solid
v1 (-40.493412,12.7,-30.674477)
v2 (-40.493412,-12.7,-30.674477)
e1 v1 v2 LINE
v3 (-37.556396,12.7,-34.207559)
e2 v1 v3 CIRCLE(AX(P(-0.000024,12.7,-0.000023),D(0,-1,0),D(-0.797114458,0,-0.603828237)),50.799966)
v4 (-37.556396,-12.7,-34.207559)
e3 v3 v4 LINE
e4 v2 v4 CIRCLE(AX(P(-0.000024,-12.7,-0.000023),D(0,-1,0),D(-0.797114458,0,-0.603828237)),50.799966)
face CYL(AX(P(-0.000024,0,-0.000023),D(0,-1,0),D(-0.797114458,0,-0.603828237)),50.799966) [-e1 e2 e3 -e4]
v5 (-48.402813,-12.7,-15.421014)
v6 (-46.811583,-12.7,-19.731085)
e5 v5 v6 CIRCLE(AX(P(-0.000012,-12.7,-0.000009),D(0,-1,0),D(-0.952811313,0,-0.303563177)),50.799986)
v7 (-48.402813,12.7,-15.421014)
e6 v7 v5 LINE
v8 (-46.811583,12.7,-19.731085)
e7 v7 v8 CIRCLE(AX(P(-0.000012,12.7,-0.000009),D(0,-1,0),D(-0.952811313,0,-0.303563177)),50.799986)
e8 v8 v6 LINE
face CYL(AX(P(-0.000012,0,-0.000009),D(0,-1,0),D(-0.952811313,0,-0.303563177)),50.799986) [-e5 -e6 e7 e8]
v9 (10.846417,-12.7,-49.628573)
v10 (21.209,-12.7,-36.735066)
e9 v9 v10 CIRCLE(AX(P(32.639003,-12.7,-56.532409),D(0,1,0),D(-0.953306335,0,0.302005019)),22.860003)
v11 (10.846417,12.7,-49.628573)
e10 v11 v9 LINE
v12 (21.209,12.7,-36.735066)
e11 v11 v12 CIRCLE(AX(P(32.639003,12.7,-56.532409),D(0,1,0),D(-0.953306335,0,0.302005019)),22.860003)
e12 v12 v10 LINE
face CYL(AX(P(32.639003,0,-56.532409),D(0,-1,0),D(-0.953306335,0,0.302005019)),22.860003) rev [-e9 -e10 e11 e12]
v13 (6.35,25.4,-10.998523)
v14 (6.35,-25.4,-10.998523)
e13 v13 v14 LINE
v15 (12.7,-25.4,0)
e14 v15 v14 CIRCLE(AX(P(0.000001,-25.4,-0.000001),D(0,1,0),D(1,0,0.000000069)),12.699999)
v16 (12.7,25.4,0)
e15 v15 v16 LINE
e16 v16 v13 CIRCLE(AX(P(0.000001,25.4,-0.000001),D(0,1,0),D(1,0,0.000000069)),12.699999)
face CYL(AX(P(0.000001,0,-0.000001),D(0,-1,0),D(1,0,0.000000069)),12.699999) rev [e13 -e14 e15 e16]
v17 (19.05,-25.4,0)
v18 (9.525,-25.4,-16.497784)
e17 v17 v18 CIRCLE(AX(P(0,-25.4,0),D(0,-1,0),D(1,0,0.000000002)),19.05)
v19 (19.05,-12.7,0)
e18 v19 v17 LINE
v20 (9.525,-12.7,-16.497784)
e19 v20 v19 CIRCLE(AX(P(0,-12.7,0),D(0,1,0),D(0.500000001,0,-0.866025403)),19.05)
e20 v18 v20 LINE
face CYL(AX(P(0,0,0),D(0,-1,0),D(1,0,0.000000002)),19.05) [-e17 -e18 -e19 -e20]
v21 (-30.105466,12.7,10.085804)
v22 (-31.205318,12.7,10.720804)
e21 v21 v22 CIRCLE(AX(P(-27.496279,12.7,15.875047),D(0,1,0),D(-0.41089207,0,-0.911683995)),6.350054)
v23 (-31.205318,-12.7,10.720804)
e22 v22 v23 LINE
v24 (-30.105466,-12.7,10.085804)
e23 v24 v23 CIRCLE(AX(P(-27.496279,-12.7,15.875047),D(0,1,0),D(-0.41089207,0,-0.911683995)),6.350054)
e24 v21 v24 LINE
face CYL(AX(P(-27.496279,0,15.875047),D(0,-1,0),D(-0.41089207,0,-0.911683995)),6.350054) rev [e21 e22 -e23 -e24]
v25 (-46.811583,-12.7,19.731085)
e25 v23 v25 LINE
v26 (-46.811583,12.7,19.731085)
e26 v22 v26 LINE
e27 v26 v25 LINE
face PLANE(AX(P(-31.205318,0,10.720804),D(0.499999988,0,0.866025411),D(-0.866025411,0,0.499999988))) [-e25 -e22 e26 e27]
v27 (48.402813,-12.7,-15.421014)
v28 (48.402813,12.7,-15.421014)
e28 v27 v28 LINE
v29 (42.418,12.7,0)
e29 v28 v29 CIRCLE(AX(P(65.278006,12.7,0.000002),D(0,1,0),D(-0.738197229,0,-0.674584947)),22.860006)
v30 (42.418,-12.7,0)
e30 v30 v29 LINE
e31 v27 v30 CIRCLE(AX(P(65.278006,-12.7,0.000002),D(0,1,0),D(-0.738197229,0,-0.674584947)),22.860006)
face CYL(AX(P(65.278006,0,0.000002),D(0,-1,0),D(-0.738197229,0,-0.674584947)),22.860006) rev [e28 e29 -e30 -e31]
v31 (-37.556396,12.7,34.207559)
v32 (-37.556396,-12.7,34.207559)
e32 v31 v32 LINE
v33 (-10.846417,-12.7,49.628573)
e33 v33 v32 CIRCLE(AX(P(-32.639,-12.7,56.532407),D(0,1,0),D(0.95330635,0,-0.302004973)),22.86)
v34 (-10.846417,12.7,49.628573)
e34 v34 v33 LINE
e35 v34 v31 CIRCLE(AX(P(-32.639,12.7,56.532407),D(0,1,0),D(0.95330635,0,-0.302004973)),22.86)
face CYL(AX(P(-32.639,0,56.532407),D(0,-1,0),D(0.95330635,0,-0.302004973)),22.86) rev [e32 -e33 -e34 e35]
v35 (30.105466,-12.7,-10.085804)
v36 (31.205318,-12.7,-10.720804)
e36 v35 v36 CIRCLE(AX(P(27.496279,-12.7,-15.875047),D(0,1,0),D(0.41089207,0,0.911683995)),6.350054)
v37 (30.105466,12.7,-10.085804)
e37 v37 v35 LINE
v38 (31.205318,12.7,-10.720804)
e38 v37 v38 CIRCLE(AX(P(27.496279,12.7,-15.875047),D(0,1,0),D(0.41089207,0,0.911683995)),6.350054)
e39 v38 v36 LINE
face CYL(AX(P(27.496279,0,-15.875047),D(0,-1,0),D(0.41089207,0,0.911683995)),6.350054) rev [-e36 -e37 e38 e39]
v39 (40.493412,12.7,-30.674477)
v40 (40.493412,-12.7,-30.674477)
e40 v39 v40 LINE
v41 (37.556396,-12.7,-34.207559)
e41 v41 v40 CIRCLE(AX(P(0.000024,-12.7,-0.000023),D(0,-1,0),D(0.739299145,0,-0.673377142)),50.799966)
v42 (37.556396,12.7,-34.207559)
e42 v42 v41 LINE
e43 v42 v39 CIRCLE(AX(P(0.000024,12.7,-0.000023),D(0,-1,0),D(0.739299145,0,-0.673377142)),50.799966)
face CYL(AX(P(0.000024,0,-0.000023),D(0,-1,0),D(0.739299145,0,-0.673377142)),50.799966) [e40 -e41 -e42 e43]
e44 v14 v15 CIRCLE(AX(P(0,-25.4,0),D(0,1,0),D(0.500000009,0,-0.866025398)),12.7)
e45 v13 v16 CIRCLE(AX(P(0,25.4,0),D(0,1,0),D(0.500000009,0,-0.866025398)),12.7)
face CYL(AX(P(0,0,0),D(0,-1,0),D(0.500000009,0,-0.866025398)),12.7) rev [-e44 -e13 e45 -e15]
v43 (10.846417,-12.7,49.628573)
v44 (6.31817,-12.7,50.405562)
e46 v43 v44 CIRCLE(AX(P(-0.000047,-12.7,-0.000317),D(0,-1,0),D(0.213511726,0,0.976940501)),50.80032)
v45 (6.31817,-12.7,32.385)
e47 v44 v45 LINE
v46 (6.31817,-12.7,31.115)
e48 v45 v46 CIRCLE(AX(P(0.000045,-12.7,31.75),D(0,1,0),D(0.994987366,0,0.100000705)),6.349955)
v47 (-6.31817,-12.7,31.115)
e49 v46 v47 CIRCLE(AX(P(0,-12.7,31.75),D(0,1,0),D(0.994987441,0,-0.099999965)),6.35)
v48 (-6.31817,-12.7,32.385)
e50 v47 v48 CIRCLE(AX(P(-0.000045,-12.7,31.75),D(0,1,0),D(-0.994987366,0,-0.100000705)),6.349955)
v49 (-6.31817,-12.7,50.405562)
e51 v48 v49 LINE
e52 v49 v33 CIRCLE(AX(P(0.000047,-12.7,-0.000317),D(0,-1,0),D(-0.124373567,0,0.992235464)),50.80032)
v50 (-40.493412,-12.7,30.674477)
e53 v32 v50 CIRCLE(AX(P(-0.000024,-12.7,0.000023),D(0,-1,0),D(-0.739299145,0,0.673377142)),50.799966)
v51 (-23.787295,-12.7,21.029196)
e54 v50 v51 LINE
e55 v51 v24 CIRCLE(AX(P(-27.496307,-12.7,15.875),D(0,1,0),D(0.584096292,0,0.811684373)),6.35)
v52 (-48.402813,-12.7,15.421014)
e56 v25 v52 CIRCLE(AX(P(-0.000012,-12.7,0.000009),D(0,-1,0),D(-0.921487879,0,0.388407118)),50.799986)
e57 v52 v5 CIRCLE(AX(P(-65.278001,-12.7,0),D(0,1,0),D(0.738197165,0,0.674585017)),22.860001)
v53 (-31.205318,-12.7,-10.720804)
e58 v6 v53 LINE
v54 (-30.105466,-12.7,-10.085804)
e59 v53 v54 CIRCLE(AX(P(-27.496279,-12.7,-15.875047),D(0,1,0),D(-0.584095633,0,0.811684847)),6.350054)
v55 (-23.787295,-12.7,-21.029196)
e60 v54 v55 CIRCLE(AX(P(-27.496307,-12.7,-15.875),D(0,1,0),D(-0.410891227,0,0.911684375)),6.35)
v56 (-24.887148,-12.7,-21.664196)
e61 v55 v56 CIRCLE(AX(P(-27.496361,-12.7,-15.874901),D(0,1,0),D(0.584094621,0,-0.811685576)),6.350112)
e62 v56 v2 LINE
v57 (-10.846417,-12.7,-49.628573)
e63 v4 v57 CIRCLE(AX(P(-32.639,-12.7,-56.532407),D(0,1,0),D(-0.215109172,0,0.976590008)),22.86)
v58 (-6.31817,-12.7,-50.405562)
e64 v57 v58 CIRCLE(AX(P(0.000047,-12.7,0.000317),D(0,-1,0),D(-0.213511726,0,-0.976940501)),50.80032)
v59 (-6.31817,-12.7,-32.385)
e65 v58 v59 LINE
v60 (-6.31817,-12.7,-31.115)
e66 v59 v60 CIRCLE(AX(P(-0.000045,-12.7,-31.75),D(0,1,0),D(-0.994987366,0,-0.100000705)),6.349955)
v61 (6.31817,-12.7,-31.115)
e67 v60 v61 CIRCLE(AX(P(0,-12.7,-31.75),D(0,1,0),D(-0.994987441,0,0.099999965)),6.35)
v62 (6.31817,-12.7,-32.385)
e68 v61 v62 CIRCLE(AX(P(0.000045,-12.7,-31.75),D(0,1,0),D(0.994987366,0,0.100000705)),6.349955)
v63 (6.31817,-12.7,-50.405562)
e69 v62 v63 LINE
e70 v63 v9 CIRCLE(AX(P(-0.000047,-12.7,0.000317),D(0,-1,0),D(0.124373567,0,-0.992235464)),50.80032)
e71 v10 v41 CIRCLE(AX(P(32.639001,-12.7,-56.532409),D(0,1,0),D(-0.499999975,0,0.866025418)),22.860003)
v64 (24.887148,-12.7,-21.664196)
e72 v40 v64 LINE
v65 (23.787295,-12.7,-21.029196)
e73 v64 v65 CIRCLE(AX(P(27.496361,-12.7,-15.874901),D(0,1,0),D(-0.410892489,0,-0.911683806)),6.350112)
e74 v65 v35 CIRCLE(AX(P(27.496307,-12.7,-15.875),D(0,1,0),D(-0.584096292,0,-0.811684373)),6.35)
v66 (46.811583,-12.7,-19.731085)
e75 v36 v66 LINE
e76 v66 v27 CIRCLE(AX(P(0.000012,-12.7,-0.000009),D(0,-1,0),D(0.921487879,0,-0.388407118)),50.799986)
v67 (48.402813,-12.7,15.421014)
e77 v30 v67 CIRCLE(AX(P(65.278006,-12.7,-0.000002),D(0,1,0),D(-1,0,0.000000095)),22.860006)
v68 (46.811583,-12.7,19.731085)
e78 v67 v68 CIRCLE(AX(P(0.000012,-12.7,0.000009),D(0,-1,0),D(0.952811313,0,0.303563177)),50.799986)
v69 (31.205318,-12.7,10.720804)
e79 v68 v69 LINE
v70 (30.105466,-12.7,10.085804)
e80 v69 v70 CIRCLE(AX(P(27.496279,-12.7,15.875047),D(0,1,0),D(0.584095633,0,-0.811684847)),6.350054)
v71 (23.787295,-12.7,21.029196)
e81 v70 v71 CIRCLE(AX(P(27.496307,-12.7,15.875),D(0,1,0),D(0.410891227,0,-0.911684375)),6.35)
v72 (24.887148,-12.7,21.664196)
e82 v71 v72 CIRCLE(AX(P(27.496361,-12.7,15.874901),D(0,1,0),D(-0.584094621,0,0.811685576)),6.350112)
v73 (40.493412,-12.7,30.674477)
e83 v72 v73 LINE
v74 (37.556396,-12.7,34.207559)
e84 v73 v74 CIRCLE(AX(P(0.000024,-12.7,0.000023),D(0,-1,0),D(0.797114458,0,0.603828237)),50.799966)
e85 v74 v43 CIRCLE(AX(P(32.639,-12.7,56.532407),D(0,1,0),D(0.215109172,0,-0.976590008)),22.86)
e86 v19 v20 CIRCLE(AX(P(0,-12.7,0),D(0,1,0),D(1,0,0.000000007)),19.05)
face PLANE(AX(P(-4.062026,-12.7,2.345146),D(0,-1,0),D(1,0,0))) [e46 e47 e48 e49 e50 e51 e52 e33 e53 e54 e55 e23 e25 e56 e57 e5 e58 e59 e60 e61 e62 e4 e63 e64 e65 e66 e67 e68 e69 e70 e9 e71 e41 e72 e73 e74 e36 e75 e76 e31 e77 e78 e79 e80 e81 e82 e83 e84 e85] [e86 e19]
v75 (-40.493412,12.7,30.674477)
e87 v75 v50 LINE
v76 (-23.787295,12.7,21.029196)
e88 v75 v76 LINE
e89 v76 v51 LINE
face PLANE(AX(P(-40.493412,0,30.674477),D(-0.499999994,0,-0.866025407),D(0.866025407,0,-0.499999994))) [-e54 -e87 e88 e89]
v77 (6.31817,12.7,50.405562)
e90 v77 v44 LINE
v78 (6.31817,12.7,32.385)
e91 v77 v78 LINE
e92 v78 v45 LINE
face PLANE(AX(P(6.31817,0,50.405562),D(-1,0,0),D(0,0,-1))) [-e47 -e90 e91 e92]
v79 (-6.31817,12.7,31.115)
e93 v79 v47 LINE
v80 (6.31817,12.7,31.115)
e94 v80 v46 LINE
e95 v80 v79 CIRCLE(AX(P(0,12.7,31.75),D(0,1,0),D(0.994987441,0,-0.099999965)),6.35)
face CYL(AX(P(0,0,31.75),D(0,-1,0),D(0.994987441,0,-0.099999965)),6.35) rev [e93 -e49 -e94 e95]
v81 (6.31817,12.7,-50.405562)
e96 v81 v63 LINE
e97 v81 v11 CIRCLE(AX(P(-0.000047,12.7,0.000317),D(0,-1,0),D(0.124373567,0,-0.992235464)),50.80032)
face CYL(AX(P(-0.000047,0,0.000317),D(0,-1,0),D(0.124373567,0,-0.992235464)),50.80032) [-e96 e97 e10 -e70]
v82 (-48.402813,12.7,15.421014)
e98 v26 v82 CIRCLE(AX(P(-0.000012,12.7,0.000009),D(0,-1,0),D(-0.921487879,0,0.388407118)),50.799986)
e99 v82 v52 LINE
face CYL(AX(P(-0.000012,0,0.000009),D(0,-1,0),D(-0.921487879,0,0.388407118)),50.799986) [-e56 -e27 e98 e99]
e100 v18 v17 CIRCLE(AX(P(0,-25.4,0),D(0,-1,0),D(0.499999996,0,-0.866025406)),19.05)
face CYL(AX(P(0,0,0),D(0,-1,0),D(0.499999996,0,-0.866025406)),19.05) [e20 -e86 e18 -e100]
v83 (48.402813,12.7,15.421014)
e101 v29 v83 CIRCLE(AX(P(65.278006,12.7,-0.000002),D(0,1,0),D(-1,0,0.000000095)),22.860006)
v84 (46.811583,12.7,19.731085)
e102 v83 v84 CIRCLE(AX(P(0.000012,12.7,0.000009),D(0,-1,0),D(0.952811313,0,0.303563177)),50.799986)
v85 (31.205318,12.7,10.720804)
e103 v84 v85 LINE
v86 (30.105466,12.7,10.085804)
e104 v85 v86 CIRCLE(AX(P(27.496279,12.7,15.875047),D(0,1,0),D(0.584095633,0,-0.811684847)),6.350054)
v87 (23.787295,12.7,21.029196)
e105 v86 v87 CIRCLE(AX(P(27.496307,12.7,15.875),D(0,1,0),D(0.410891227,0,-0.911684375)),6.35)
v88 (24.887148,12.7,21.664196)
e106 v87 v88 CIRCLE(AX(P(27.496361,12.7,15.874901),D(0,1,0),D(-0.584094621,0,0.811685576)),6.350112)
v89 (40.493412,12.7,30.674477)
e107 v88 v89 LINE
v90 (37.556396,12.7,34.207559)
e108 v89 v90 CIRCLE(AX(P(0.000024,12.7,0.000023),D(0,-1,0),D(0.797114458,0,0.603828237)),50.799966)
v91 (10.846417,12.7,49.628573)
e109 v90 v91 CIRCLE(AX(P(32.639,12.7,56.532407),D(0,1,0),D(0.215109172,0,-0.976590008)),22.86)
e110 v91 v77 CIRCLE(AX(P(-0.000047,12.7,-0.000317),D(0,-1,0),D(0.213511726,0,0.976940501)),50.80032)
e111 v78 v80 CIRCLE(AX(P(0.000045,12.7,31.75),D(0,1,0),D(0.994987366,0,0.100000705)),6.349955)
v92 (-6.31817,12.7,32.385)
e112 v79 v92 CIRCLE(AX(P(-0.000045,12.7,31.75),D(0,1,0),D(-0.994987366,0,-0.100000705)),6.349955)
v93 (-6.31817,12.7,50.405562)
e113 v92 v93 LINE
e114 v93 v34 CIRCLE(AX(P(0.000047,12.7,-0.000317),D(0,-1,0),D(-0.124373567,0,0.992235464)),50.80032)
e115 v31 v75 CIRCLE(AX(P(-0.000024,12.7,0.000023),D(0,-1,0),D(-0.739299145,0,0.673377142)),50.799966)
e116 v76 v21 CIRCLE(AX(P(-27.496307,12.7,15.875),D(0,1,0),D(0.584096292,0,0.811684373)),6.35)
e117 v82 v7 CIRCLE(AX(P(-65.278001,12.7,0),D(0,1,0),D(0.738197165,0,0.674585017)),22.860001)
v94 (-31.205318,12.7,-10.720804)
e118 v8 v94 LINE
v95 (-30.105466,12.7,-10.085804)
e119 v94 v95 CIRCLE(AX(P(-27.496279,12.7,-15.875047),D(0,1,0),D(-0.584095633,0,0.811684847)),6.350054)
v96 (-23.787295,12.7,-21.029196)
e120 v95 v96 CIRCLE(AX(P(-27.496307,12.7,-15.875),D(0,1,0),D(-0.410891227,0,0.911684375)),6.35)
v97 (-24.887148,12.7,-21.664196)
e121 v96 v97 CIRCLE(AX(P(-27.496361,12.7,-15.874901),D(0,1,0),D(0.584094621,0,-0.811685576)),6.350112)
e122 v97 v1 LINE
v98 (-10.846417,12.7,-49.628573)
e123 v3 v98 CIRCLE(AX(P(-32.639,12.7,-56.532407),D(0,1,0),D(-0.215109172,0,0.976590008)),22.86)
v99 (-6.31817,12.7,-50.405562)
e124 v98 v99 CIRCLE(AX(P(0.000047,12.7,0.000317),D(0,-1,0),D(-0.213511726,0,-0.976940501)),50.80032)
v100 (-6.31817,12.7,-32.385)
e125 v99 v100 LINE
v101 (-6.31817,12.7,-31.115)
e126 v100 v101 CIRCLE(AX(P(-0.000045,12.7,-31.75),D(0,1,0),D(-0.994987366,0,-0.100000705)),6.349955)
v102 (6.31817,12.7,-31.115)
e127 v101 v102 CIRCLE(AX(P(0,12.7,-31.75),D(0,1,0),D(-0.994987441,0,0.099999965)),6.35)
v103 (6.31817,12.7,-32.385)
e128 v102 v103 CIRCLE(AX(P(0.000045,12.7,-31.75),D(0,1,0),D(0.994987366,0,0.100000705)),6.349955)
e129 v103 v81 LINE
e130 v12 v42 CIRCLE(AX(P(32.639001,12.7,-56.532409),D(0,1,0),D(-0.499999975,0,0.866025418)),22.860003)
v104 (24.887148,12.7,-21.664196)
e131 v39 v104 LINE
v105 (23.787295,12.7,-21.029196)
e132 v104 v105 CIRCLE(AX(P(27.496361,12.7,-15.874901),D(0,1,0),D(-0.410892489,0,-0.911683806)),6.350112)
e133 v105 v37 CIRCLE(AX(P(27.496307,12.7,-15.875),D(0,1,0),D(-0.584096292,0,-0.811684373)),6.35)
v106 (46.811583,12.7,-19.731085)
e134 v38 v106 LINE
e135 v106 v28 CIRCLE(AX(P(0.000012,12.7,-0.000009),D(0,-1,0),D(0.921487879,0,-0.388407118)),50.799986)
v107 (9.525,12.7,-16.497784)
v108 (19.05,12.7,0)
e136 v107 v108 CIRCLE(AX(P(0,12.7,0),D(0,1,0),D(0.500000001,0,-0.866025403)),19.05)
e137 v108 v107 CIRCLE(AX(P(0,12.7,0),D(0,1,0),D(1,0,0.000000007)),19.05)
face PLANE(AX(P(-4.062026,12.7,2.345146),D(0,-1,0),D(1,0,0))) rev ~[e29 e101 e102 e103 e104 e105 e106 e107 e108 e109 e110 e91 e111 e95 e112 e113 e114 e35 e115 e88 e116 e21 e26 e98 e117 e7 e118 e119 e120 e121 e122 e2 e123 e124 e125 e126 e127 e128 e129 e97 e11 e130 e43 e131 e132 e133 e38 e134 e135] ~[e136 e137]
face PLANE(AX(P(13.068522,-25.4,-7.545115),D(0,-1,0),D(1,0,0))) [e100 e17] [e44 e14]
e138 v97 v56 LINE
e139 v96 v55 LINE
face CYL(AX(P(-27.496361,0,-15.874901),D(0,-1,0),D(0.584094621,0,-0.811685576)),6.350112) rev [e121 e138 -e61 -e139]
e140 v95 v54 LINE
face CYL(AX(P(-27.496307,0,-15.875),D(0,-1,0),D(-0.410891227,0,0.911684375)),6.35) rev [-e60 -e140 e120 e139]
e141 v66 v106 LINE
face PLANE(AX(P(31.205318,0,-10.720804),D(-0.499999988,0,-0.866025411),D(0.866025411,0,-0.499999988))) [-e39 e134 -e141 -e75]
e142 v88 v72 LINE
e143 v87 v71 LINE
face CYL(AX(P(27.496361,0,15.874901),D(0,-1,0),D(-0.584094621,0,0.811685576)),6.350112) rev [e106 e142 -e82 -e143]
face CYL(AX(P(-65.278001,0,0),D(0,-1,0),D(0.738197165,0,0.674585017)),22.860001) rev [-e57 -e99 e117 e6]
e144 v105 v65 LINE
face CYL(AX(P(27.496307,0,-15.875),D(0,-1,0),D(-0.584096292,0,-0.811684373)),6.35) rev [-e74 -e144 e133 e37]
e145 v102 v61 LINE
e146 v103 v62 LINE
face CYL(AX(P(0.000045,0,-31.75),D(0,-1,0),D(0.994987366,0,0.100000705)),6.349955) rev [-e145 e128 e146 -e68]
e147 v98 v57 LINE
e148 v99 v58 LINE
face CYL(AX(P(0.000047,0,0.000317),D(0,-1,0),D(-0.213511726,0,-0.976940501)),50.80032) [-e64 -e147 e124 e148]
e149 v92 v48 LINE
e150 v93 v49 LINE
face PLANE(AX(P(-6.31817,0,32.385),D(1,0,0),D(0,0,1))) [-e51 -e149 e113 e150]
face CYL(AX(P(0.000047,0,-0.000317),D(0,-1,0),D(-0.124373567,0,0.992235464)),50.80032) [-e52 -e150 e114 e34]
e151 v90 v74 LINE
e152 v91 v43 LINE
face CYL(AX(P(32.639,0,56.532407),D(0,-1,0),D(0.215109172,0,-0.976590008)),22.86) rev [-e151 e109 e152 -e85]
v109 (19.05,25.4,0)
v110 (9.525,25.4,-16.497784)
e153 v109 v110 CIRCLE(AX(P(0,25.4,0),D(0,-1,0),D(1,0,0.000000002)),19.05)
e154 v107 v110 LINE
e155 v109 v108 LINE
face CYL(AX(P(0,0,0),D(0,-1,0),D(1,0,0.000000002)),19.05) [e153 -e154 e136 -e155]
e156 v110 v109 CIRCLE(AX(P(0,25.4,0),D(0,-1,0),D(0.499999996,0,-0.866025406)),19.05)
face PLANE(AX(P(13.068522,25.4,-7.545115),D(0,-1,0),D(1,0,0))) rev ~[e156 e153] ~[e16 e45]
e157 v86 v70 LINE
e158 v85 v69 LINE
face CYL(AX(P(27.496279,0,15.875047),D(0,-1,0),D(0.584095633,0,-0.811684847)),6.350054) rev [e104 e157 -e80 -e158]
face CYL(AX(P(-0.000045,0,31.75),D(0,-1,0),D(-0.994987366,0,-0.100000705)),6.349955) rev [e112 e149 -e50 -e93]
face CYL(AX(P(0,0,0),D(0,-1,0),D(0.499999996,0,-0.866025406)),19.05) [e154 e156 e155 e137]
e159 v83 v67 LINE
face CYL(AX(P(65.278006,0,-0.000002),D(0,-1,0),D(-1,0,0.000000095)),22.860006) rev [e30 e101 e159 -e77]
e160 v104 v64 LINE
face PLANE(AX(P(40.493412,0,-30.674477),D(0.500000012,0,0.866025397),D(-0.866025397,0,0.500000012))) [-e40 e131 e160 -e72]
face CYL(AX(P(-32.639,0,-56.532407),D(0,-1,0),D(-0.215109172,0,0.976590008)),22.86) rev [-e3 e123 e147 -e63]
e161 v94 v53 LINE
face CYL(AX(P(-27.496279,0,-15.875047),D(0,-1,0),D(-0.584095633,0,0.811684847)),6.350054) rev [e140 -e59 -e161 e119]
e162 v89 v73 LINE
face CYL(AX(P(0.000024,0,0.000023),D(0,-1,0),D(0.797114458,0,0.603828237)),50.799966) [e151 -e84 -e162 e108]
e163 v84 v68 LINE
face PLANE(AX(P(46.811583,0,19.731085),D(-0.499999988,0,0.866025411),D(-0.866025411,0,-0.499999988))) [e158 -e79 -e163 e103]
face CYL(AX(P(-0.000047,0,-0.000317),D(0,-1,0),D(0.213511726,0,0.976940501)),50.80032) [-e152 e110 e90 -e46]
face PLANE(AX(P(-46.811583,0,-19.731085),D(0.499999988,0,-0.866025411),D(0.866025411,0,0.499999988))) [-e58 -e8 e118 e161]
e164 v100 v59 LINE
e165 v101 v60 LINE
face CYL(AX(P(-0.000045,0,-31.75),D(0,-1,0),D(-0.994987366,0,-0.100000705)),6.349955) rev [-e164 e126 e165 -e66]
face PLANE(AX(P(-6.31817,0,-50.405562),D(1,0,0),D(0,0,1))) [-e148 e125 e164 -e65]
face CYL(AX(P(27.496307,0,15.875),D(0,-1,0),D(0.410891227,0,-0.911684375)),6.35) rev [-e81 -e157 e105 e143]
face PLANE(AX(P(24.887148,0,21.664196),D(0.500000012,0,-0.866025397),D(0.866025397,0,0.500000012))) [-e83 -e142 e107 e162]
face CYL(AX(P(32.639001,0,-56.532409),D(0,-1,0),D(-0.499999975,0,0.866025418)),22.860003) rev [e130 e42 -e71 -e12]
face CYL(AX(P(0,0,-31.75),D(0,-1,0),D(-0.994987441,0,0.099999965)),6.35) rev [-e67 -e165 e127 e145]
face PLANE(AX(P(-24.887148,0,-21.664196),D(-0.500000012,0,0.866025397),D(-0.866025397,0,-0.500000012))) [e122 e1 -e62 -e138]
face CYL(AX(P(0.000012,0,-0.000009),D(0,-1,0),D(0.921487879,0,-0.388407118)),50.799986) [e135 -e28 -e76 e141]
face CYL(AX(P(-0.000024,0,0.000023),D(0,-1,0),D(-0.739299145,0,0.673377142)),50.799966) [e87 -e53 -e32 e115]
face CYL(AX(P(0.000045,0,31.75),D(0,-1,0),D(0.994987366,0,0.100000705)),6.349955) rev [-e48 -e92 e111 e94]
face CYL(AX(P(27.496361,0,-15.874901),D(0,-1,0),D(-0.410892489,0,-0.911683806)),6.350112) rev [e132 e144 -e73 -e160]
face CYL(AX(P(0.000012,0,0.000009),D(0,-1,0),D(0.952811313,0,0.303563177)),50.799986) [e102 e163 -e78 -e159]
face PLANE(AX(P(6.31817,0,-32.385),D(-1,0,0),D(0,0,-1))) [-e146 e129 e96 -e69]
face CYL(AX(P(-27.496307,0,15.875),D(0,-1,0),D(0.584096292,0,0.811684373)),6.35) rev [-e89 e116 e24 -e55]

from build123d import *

# Parameters (mm, degrees)
F1_DEPTH = 12.7
F2_DEPTH = 25.4


with BuildPart() as f1:
    # F0 (on Front) → F1 (new body, symmetric)
    with BuildSketch(Plane.XZ):
        with BuildLine():
            ThreePointArc((42.418, 0), (43.966661, 8.270817), (48.402813, 15.421014))
            ThreePointArc((48.402813, 15.421014), (47.655949, 17.594048), (46.811583, 19.731085))
            Line((46.811583, 19.731085), (31.205318, 10.720804))
            ThreePointArc((31.205318, 10.720804), (30.671307, 10.375739), (30.105466, 10.085804))
            ThreePointArc((30.105466, 10.085804), (21.997045, 12.7), (23.787295, 21.029196))
            ThreePointArc((23.787295, 21.029196), (24.321307, 21.374261), (24.887148, 21.664196))
            Line((24.887148, 21.664196), (40.493412, 30.674477))
            ThreePointArc((40.493412, 30.674477), (39.064867, 32.474238), (37.556396, 34.207559))
            ThreePointArc((37.556396, 34.207559), (21.209, 36.735066), (10.846417, 49.628573))
            ThreePointArc((10.846417, 49.628573), (8.591082, 50.068286), (6.31817, 50.405562))
            Line((6.31817, 50.405562), (6.31817, 32.385))
            ThreePointArc((6.31817, 32.385), (6.35, 31.75), (6.31817, 31.115))
            ThreePointArc((6.31817, 31.115), (0, 25.4), (-6.31817, 31.115))
            ThreePointArc((-6.31817, 31.115), (-6.35, 31.75), (-6.31817, 32.385))
            Line((-6.31817, 32.385), (-6.31817, 50.405562))
            ThreePointArc((-6.31817, 50.405562), (-8.591082, 50.068286), (-10.846417, 49.628573))
            ThreePointArc((-10.846417, 49.628573), (-21.209, 36.735066), (-37.556396, 34.207559))
            ThreePointArc((-37.556396, 34.207559), (-39.064867, 32.474238), (-40.493412, 30.674477))
            Line((-40.493412, 30.674477), (-23.787295, 21.029196))
            ThreePointArc((-23.787295, 21.029196), (-21.997045, 12.7), (-30.105466, 10.085804))
            ThreePointArc((-30.105466, 10.085804), (-30.671307, 10.375739), (-31.205318, 10.720804))
            Line((-31.205318, 10.720804), (-46.811583, 19.731085))
            ThreePointArc((-46.811583, 19.731085), (-47.655949, 17.594048), (-48.402813, 15.421014))
            ThreePointArc((-48.402813, 15.421014), (-42.418, 0), (-48.402813, -15.421014))
            ThreePointArc((-48.402813, -15.421014), (-47.655949, -17.594048), (-46.811583, -19.731085))
            Line((-46.811583, -19.731085), (-31.205318, -10.720804))
            ThreePointArc((-31.205318, -10.720804), (-30.671307, -10.375739), (-30.105466, -10.085804))
            ThreePointArc((-30.105466, -10.085804), (-21.997045, -12.7), (-23.787295, -21.029196))
            ThreePointArc((-23.787295, -21.029196), (-24.321307, -21.374261), (-24.887148, -21.664196))
            Line((-24.887148, -21.664196), (-40.493412, -30.674477))
            ThreePointArc((-40.493412, -30.674477), (-39.064867, -32.474238), (-37.556396, -34.207559))
            ThreePointArc((-37.556396, -34.207559), (-21.209, -36.735066), (-10.846417, -49.628573))
            ThreePointArc((-10.846417, -49.628573), (-8.591082, -50.068286), (-6.31817, -50.405562))
            Line((-6.31817, -50.405562), (-6.31817, -32.385))
            ThreePointArc((-6.31817, -32.385), (-6.35, -31.75), (-6.31817, -31.115))
            ThreePointArc((-6.31817, -31.115), (0, -25.4), (6.31817, -31.115))
            ThreePointArc((6.31817, -31.115), (6.35, -31.75), (6.31817, -32.385))
            Line((6.31817, -32.385), (6.31817, -50.405562))
            ThreePointArc((6.31817, -50.405562), (8.591082, -50.068286), (10.846417, -49.628573))
            ThreePointArc((10.846417, -49.628573), (14.820593, -42.211654), (21.209, -36.735066))
            Line((21.209, -36.735066), (9.525, -16.497784))
            ThreePointArc((9.525, -16.497784), (-16.497784, 9.525), (19.05, 0))
            Line((19.05, 0), (42.418, 0))
        make_face()
        with BuildLine():
            ThreePointArc((48.402813, -15.421014), (43.966661, -8.270817), (42.418, 0))
            Line((42.418, 0), (19.05, 0))
            ThreePointArc((19.05, 0), (16.497784, -9.525), (9.525, -16.497784))
            Line((9.525, -16.497784), (21.209, -36.735066))
            ThreePointArc((21.209, -36.735066), (29.146068, -33.940837), (37.556396, -34.207559))
            ThreePointArc((37.556396, -34.207559), (39.064867, -32.474238), (40.493412, -30.674477))
            Line((40.493412, -30.674477), (24.887148, -21.664196))
            ThreePointArc((24.887148, -21.664196), (24.321307, -21.374261), (23.787295, -21.029196))
            ThreePointArc((23.787295, -21.029196), (21.997045, -12.7), (30.105466, -10.085804))
            ThreePointArc((30.105466, -10.085804), (30.671307, -10.375739), (31.205318, -10.720804))
            Line((31.205318, -10.720804), (46.811583, -19.731085))
            ThreePointArc((46.811583, -19.731085), (47.655949, -17.594048), (48.402813, -15.421014))
        make_face()
    extrude(amount=F1_DEPTH, both=True)

    # F0 (on Front) → F2 (join, symmetric)
    with BuildSketch(Plane.XZ):
        with BuildLine():
            ThreePointArc((9.525, -16.497784), (16.497784, -9.525), (19.05, 0))
            Line((19.05, 0), (12.7, 0))
            ThreePointArc((12.7, 0), (10.998523, -6.35), (6.35, -10.998523))
            Line((6.35, -10.998523), (9.525, -16.497784))
        make_face()
        with BuildLine():
            Line((12.7, 0), (19.05, 0))
            ThreePointArc((19.05, 0), (-16.497784, 9.525), (9.525, -16.497784))
            Line((9.525, -16.497784), (6.35, -10.998523))
            ThreePointArc((6.35, -10.998523), (-10.998523, 6.35), (12.7, 0))
        make_face()
    extrude(amount=F2_DEPTH, both=True)


solid = f1.part
